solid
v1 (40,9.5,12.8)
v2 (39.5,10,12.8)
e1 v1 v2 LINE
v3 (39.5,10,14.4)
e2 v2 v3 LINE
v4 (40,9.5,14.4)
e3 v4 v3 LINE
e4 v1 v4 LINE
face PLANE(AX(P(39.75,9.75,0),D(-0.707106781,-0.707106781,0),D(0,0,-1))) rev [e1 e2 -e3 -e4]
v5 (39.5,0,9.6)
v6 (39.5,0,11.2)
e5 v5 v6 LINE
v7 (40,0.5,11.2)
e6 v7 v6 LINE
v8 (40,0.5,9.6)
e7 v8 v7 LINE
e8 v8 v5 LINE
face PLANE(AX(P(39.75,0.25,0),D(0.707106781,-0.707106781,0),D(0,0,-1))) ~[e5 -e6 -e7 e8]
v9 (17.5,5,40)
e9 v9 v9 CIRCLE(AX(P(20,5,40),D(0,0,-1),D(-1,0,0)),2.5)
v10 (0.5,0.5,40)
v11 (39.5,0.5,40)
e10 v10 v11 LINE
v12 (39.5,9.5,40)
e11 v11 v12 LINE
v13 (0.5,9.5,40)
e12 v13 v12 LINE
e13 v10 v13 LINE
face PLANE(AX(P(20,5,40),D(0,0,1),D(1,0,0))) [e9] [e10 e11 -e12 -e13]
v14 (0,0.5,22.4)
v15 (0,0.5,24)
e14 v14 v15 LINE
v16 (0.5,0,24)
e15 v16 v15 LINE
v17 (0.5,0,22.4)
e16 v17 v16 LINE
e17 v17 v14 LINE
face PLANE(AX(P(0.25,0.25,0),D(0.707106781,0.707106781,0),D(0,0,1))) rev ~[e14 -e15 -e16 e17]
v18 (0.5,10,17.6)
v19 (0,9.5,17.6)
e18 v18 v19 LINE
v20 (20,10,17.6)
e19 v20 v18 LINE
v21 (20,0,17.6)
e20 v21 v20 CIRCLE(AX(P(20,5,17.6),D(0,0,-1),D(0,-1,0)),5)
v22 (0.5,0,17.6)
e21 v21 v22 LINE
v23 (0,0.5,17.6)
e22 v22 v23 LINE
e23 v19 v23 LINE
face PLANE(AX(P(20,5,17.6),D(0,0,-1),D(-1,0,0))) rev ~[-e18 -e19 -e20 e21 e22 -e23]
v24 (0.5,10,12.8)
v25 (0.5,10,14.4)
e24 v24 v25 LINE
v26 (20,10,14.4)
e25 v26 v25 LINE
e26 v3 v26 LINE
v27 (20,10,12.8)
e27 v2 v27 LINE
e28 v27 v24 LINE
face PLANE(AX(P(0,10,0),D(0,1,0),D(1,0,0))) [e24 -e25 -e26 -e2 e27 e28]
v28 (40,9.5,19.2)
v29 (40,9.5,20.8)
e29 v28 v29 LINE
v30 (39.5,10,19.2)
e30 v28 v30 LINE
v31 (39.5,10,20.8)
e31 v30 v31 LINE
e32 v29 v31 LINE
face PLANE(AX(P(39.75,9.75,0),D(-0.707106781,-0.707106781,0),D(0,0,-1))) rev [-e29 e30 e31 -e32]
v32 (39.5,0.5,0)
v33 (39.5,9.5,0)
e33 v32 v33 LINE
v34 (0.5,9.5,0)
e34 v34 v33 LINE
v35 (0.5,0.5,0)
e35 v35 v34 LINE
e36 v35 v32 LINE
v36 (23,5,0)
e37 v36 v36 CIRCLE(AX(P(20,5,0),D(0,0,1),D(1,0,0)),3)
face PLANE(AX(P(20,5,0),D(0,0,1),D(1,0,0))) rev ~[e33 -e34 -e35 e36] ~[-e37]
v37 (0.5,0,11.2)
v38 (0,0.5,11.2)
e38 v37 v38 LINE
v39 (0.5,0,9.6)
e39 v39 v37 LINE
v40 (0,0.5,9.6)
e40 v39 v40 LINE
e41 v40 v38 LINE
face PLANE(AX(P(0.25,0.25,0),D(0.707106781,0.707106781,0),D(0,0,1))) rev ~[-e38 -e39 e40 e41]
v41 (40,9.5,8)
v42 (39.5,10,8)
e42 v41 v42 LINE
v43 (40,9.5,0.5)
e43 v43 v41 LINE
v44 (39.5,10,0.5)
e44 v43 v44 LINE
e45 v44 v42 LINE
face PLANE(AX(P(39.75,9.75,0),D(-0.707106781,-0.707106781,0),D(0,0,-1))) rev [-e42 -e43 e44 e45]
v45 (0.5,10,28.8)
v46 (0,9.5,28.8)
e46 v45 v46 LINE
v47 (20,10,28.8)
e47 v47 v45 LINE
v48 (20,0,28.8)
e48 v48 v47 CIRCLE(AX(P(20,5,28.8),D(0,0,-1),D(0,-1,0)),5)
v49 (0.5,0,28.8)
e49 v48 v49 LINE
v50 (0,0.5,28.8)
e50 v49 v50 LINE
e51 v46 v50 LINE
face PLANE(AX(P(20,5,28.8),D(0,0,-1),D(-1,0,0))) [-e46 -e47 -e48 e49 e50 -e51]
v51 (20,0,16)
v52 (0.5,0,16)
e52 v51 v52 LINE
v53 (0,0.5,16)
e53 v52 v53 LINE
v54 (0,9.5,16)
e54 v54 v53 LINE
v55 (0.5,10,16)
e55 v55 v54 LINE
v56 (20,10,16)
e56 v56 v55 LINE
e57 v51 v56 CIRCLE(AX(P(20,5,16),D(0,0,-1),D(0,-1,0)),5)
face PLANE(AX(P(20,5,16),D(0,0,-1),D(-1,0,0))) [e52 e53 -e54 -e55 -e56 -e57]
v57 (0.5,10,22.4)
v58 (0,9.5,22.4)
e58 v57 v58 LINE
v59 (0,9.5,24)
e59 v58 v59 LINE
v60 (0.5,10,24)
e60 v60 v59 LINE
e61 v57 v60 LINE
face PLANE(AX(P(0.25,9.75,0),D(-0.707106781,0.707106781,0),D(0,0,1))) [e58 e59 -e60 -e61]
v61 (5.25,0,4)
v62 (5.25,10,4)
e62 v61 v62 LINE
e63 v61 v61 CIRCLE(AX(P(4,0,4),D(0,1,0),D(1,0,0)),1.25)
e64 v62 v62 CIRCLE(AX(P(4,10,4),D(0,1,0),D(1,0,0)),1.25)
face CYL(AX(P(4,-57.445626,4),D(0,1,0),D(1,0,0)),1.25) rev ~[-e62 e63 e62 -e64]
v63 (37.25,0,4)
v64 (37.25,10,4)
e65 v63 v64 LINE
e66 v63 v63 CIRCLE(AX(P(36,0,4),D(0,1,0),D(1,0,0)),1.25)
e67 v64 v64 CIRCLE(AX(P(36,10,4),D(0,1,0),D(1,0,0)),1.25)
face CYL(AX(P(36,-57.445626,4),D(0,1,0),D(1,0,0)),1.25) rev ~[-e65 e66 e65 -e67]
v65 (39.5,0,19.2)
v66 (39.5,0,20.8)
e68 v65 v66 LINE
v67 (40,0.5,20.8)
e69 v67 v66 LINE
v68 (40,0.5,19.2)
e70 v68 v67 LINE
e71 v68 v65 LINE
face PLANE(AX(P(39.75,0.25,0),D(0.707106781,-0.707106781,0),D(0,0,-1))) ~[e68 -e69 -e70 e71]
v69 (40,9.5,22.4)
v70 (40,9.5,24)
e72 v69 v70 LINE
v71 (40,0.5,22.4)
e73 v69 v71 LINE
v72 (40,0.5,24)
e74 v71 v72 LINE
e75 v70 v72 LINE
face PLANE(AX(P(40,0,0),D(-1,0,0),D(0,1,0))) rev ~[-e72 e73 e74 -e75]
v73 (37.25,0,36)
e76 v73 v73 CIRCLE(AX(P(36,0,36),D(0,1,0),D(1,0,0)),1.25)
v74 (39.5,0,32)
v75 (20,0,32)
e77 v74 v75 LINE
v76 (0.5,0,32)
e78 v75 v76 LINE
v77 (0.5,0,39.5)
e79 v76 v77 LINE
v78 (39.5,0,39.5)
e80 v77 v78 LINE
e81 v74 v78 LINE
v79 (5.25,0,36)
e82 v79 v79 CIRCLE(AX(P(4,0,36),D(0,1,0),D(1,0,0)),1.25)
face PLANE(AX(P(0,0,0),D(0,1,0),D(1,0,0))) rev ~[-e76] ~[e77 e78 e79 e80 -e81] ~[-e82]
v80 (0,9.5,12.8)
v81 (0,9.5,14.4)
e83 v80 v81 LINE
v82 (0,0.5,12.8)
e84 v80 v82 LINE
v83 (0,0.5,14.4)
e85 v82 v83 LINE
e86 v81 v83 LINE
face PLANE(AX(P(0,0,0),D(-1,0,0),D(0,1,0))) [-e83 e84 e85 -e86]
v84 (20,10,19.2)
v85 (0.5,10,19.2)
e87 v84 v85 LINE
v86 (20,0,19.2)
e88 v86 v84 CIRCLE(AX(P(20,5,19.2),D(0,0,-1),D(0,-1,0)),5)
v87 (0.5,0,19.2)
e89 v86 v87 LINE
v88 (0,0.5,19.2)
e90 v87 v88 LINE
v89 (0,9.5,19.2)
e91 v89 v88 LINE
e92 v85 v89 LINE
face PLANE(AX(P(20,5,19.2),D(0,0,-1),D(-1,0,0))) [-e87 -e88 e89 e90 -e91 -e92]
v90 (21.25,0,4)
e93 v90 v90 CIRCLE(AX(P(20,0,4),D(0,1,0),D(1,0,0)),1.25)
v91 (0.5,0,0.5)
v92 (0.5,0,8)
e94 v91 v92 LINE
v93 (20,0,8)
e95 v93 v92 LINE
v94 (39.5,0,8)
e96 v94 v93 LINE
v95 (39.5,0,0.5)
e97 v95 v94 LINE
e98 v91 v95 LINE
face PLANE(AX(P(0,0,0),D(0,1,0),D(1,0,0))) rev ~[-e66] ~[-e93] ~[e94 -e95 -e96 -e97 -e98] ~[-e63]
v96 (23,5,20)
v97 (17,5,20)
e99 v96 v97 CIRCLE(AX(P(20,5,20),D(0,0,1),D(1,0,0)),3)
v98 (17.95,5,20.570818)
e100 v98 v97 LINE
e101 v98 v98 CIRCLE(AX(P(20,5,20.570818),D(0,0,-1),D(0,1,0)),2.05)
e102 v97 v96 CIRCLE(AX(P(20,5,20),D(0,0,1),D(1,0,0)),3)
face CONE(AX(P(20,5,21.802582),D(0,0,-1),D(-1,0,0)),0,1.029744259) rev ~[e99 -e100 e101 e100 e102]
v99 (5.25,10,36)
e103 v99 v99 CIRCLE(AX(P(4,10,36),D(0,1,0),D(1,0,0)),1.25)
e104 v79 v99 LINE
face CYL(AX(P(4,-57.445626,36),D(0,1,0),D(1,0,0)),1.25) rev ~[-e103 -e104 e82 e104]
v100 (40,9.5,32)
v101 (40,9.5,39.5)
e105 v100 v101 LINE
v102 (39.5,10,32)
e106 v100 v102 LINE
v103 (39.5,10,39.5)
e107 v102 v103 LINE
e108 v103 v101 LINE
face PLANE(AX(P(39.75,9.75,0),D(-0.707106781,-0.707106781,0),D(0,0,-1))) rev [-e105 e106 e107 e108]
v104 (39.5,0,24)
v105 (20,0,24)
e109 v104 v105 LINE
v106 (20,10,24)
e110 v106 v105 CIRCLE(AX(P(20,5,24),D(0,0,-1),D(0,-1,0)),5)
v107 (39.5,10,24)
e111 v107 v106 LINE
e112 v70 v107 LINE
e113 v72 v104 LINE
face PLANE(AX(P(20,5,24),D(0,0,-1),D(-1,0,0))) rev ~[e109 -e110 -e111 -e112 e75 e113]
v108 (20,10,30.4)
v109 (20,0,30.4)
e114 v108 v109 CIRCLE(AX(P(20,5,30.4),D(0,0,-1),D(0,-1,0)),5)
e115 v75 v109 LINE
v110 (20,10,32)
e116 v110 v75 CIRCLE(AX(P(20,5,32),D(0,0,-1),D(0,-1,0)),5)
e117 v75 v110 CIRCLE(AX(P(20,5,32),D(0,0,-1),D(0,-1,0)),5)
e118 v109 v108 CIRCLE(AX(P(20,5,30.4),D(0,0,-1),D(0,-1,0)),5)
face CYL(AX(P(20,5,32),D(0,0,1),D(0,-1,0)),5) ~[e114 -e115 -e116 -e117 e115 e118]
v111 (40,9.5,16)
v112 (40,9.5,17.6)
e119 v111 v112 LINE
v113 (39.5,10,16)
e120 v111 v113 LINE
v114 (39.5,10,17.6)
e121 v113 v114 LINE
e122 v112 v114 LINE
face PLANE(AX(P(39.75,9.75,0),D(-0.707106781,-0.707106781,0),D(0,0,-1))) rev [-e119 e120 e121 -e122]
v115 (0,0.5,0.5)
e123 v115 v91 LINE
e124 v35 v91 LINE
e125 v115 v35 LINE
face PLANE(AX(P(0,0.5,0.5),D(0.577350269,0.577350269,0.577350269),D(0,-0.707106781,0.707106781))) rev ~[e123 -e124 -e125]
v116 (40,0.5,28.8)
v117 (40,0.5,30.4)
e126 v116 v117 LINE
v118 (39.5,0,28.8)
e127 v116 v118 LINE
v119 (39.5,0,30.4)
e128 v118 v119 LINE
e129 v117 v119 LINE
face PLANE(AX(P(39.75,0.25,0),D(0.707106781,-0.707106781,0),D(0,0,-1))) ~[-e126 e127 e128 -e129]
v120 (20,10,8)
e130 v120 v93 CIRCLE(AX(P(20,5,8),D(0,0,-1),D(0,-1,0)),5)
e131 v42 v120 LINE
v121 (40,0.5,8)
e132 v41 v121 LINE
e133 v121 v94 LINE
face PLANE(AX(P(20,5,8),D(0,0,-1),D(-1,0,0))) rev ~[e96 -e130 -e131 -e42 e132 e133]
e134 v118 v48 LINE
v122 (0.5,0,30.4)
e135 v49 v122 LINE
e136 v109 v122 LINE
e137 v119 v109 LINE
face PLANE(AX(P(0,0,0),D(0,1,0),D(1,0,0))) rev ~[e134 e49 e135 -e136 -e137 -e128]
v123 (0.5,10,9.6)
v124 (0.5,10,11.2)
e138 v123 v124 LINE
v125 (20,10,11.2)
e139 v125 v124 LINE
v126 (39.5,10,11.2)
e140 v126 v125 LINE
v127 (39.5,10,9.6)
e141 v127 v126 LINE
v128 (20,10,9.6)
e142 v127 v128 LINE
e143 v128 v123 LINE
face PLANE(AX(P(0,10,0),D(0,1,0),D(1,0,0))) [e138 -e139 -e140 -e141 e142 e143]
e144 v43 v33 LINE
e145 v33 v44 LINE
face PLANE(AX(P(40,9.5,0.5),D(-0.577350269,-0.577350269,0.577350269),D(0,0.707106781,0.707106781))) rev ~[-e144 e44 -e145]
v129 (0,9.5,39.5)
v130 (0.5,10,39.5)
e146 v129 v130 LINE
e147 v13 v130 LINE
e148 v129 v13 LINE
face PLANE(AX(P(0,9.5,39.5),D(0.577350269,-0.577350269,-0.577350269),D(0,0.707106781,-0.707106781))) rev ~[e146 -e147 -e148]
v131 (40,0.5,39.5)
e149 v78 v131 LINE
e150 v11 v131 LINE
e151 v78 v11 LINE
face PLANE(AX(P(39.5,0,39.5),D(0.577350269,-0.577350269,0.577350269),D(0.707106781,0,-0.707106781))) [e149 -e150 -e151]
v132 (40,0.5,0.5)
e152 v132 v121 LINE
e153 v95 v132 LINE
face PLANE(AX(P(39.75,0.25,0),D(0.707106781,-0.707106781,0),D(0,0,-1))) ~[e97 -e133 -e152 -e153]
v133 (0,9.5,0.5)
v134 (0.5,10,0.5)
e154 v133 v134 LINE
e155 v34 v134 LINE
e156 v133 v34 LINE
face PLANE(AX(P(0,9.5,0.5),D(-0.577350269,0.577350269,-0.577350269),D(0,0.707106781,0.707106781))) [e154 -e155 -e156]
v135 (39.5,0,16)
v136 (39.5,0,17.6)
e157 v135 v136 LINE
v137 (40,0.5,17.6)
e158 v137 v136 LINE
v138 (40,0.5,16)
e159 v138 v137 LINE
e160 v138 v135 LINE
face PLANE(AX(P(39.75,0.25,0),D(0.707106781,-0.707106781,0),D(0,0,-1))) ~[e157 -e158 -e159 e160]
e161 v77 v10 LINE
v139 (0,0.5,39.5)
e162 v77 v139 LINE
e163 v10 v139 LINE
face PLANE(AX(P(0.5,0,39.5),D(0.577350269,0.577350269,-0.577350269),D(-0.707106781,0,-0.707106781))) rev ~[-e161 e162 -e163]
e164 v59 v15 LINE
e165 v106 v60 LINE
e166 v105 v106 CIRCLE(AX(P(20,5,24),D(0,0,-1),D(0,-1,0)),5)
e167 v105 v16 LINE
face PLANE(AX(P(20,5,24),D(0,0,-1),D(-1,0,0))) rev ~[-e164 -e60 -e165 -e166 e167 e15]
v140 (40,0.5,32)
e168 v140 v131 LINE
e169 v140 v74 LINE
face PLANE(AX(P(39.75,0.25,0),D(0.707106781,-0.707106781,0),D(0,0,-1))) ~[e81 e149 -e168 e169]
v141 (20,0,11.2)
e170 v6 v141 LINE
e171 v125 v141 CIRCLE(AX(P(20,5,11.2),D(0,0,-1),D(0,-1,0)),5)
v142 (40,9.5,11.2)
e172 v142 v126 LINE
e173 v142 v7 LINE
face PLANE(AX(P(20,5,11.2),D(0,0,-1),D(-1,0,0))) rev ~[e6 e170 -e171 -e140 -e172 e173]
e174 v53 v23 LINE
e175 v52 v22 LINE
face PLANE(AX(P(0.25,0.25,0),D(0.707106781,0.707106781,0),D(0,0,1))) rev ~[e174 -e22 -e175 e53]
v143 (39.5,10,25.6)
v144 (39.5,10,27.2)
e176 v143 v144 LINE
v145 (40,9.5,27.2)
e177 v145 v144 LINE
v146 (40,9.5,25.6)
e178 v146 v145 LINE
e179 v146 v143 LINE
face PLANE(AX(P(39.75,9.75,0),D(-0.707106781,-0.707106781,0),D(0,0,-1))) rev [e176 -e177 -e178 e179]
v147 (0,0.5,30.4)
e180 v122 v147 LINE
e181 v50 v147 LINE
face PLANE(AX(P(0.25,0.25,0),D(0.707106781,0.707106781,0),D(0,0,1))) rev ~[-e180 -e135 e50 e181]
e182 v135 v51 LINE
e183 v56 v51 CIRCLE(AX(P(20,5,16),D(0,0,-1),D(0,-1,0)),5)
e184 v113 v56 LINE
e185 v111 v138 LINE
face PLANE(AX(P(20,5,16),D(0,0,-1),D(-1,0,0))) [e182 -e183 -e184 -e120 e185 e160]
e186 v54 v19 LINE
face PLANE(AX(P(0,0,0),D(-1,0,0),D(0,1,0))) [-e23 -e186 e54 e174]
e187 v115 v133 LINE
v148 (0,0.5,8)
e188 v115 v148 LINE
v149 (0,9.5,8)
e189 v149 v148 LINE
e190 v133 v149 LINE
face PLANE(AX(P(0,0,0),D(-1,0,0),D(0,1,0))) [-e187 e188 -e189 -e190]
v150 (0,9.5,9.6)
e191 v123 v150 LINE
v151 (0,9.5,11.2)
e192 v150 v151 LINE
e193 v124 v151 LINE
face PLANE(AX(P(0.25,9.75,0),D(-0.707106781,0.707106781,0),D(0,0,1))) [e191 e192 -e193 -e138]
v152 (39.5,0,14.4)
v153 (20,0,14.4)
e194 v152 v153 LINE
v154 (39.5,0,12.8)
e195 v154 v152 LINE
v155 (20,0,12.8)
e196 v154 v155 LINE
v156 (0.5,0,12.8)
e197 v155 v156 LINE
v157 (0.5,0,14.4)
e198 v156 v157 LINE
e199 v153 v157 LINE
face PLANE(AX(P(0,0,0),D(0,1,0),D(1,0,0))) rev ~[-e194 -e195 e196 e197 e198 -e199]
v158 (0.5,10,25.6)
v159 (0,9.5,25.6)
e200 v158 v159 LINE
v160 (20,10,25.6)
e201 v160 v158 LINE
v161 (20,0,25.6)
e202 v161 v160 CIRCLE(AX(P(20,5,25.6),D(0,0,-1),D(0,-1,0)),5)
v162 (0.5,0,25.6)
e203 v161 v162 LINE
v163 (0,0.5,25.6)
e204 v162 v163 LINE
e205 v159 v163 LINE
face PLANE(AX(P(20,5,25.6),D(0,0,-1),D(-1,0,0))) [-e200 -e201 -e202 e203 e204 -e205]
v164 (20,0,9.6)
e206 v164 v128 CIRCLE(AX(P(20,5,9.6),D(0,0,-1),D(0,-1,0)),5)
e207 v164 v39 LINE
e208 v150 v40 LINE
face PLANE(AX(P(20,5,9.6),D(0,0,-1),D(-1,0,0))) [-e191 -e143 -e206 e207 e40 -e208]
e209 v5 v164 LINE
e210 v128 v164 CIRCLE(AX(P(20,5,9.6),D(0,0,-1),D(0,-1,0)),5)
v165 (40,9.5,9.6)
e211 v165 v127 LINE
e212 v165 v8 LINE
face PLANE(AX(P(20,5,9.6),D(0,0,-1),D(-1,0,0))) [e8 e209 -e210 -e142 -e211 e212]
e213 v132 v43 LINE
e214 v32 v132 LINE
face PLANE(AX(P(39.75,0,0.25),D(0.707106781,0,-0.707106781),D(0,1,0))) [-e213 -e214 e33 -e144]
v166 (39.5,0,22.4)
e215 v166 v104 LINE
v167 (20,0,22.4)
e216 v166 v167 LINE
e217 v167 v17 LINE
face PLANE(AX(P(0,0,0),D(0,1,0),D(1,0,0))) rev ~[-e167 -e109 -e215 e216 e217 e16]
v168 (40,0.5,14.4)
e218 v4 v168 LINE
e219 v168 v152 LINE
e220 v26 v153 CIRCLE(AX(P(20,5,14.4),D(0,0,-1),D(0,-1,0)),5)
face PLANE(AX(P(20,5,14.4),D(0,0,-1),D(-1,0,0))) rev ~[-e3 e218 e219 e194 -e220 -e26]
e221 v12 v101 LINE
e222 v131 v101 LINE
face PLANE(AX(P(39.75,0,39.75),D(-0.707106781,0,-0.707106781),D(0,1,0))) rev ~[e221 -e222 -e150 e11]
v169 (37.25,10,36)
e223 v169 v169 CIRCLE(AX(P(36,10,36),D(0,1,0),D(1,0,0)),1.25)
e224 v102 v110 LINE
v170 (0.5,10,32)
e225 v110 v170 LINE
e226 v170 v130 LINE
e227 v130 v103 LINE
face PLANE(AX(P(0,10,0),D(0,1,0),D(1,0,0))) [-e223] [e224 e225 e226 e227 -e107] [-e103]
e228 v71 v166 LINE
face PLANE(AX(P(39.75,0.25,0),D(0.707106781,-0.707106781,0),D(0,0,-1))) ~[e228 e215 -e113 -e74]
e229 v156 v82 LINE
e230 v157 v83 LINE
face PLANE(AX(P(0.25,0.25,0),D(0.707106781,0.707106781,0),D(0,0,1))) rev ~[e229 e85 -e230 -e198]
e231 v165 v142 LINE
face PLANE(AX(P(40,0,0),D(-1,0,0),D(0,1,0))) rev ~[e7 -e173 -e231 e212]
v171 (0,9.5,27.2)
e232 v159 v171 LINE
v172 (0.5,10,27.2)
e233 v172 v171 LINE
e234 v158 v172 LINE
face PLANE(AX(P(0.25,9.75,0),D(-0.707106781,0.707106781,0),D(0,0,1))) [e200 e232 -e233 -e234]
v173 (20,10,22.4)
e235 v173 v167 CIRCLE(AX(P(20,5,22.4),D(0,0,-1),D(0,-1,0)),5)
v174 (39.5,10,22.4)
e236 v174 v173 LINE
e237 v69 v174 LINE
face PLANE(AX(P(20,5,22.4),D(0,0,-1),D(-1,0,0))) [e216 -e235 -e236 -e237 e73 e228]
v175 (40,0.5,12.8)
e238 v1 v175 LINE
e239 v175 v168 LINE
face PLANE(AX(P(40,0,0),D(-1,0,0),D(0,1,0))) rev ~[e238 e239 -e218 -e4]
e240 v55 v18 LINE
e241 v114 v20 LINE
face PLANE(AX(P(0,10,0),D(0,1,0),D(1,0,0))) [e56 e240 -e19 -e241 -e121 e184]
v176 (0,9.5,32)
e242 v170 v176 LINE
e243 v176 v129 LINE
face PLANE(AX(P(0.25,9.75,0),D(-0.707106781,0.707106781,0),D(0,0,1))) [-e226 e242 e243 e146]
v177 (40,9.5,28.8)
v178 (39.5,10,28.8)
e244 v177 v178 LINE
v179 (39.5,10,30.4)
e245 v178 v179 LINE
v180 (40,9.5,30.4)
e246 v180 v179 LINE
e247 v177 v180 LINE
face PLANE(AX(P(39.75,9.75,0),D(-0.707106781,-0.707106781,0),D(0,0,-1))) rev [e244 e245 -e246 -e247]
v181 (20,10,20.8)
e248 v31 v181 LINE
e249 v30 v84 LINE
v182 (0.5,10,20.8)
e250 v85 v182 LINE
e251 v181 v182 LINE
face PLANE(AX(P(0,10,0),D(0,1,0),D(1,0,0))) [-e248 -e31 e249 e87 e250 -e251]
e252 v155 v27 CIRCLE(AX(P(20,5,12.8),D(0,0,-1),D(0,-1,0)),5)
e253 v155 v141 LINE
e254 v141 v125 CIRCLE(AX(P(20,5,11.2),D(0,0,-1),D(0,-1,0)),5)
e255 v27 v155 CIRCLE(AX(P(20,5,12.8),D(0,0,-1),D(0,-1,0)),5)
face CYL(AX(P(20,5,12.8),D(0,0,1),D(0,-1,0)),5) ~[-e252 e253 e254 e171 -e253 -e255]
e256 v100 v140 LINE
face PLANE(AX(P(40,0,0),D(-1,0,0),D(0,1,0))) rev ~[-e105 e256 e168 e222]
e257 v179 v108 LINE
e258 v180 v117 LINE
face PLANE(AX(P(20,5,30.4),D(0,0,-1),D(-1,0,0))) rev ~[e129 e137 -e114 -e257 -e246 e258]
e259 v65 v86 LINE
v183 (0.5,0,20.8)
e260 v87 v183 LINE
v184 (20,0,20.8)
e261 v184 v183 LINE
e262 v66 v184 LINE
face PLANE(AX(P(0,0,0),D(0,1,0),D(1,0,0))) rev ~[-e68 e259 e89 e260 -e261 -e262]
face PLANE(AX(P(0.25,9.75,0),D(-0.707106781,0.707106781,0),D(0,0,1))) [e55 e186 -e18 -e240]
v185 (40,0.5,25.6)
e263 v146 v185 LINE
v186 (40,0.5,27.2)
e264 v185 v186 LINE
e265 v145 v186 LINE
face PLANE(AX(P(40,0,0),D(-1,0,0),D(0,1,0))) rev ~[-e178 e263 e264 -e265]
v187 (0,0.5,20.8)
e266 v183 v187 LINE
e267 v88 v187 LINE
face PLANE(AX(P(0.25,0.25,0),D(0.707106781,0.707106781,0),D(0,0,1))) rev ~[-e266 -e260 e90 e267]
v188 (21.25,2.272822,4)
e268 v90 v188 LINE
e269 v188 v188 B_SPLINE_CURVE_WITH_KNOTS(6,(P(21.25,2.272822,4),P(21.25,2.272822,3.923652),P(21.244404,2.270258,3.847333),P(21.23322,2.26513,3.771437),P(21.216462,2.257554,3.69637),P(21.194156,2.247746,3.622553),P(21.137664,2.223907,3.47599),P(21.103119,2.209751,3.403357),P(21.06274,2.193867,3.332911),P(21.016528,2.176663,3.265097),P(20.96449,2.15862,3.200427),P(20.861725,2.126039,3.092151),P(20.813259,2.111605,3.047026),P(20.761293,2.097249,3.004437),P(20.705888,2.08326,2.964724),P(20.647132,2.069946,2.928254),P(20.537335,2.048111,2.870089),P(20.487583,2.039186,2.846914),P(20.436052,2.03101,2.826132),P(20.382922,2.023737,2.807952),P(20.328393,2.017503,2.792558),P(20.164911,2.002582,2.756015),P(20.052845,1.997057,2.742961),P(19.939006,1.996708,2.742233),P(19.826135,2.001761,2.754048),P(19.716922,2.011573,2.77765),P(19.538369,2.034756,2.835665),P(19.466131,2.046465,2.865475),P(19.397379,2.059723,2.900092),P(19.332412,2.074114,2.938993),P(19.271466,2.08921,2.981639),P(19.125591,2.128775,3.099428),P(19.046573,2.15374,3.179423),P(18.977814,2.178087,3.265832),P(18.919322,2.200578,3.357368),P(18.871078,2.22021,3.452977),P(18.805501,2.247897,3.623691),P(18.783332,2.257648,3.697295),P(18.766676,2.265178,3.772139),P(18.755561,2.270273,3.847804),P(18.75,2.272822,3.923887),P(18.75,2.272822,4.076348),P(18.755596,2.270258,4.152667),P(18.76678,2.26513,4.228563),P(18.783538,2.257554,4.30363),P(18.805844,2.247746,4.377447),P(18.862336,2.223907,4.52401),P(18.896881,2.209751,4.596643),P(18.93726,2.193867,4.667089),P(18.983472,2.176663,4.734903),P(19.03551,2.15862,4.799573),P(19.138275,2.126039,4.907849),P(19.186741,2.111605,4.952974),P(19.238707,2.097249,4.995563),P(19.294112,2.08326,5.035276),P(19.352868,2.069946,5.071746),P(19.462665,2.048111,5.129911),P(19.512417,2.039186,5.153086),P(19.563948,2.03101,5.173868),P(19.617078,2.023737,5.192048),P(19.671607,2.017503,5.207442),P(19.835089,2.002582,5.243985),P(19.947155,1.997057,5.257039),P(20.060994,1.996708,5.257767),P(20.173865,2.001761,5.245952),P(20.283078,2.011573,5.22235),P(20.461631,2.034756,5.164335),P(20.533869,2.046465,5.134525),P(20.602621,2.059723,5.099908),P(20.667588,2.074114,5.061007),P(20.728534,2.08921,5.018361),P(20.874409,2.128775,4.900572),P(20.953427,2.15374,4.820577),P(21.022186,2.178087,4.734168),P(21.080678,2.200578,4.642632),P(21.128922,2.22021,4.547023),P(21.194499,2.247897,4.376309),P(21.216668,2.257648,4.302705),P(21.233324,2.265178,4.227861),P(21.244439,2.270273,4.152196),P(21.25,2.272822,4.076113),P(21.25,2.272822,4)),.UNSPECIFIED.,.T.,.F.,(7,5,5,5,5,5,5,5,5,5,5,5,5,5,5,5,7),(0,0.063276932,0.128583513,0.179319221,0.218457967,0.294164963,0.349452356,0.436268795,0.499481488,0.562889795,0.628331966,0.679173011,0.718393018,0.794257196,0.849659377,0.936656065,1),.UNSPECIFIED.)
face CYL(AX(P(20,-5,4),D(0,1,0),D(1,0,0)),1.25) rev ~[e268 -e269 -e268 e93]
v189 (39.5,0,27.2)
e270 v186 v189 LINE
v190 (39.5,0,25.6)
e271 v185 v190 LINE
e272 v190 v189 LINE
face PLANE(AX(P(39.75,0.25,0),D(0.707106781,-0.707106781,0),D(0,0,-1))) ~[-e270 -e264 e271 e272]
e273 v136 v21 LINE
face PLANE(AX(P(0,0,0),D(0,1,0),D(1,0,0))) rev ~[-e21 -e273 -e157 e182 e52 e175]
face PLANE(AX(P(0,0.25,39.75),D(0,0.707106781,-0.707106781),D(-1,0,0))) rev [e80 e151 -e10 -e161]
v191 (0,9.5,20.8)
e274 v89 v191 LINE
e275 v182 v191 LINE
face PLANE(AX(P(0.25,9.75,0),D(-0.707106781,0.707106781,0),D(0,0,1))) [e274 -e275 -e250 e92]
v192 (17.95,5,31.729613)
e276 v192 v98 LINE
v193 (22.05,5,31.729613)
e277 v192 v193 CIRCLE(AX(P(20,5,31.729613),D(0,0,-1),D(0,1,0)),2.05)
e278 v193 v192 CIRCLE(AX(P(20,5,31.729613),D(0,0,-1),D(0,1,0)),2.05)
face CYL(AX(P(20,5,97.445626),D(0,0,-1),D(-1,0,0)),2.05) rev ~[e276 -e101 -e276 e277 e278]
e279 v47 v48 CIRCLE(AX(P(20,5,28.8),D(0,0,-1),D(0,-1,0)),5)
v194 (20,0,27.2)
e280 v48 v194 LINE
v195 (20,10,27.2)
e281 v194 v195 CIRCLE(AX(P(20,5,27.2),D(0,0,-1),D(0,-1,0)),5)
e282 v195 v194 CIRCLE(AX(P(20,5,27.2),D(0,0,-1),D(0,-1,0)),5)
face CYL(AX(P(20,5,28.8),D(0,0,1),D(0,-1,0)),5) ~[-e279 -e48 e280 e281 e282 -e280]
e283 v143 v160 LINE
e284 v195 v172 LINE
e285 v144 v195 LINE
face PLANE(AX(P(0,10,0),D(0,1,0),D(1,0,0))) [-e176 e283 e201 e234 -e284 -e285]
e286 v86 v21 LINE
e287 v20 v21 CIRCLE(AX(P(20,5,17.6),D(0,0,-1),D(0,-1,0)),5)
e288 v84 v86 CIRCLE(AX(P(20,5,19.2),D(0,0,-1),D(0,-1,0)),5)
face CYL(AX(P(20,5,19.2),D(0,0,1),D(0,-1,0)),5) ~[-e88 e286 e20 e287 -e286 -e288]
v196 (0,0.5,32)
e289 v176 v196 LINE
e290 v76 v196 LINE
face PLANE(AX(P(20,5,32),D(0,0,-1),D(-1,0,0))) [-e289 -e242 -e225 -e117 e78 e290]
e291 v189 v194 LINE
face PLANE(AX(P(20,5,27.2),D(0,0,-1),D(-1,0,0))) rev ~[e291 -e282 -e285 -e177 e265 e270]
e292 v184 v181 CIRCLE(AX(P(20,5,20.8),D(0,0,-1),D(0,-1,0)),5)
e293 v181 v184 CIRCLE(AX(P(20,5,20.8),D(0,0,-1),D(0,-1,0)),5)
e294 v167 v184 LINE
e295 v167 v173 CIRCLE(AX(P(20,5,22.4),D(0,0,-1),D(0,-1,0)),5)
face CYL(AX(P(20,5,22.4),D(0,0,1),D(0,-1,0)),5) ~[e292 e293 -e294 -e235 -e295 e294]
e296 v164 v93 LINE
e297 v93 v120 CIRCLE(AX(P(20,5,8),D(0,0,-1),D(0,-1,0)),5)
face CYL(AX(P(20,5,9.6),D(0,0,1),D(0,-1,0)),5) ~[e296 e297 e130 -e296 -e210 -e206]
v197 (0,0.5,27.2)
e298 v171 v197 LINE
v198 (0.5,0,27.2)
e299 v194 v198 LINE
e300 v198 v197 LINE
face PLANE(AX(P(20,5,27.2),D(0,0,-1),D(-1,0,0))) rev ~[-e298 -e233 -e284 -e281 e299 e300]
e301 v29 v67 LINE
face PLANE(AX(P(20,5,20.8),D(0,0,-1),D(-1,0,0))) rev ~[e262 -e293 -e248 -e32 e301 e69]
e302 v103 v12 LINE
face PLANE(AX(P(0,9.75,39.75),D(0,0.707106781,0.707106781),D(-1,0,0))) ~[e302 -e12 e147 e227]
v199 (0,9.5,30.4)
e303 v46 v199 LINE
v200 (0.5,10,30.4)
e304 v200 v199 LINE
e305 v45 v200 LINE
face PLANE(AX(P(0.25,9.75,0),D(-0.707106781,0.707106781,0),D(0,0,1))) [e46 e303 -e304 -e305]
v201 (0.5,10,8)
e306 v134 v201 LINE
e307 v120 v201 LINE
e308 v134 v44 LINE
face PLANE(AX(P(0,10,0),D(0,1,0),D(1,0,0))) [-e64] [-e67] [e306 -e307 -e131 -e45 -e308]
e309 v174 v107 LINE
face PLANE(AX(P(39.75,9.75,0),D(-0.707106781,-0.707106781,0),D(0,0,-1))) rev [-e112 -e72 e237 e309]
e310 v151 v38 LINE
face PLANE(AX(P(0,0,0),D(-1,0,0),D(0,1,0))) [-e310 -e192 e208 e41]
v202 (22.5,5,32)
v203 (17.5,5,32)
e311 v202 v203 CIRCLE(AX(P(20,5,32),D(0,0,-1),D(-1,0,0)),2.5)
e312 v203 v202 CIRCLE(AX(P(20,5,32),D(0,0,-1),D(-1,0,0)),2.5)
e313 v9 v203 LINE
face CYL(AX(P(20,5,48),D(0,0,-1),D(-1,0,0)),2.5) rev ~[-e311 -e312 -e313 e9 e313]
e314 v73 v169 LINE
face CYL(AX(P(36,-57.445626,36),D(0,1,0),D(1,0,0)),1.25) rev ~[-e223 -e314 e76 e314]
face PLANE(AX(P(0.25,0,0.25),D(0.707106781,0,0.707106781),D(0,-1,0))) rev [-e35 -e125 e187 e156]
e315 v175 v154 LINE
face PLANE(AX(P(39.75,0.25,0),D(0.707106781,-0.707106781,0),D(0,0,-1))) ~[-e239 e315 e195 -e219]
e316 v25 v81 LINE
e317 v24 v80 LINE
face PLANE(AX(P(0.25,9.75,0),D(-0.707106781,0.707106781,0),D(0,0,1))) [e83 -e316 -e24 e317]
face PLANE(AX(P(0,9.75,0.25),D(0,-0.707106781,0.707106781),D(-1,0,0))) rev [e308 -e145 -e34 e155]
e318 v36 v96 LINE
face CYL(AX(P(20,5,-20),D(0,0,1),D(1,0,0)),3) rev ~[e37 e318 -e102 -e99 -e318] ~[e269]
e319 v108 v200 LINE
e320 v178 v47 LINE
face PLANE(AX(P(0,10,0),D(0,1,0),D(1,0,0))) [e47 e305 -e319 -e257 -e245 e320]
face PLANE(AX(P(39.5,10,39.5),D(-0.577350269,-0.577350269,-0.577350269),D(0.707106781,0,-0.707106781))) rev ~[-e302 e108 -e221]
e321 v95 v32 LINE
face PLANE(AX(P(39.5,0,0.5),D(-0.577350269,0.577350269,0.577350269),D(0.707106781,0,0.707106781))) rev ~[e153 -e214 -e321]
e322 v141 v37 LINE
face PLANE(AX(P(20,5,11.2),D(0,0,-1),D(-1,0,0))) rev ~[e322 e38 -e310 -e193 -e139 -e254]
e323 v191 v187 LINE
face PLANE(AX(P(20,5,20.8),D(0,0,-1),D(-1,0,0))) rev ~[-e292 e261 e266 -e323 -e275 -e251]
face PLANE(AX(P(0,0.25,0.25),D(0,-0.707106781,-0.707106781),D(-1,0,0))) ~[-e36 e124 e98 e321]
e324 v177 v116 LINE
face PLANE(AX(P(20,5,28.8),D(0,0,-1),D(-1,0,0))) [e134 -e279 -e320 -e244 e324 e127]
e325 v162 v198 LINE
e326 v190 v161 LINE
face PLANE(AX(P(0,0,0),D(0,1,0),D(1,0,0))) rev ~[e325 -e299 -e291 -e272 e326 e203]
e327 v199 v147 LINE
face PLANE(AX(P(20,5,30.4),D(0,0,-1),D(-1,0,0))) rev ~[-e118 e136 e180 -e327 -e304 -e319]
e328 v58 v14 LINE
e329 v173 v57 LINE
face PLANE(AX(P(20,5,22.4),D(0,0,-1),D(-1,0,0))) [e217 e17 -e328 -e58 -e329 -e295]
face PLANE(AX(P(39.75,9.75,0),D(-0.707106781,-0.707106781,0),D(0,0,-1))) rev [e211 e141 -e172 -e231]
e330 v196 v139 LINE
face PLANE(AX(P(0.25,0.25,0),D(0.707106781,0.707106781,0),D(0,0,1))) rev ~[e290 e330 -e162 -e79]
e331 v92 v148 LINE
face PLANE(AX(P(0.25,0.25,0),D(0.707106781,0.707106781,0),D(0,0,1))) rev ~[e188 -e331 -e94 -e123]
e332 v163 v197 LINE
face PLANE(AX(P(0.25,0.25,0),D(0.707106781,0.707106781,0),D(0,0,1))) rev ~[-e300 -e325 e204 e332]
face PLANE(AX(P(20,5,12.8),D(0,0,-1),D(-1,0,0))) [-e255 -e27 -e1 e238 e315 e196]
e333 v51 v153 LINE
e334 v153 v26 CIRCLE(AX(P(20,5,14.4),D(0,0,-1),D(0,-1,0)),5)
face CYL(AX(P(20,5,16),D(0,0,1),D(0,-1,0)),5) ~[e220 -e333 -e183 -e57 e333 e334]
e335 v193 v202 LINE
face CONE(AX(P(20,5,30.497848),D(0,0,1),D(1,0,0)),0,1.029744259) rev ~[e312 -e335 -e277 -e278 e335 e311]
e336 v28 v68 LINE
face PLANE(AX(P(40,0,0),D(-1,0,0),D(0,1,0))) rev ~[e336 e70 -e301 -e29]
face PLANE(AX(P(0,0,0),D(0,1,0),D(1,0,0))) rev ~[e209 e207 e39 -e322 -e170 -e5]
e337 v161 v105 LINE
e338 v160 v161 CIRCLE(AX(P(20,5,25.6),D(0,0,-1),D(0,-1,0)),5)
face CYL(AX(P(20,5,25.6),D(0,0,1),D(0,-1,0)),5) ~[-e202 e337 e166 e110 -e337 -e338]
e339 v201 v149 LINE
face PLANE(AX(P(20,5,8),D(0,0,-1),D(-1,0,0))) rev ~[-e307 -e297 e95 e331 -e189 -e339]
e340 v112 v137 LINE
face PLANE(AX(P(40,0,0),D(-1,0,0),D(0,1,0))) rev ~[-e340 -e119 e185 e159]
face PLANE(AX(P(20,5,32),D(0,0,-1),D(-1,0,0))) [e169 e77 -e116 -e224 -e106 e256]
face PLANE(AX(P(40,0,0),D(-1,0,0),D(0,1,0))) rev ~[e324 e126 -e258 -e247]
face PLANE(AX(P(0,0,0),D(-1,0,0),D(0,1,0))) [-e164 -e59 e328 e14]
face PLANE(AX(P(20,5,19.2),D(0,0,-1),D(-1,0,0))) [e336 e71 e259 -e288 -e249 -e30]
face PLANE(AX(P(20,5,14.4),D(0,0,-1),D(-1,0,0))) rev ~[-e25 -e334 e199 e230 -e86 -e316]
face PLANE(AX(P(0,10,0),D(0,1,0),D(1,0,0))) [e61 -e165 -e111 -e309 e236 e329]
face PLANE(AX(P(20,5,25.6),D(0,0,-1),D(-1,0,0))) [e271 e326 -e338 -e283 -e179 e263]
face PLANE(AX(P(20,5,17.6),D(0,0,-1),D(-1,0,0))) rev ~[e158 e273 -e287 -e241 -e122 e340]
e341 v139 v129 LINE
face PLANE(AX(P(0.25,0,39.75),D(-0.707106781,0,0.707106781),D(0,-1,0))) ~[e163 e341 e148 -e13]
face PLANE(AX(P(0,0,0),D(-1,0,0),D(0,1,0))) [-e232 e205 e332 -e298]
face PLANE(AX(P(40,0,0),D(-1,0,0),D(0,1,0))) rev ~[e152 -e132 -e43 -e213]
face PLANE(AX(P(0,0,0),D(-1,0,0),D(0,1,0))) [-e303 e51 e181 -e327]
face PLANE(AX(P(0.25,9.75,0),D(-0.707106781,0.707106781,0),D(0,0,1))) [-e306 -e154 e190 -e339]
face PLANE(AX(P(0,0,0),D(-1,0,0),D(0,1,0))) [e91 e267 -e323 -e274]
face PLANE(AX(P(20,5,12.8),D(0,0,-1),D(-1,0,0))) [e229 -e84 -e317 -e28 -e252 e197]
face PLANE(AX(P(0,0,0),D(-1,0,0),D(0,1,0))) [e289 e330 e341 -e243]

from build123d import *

# Parameters (mm, degrees)
ESQUISSE2_W                                   = 40
ESQUISSE2_H                                   = 10
BOSS_EXTRU_1_DEPTH                            = 40
DIAM_TRE_DU_PER_AGE_4_1_4_1_1_D               = 4.1
TROU_POUR_TARAUDAGE_POUR_TROU_TARAUD_M6_D     = 5
TROU_POUR_TARAUDAGE_POUR_TROU_TARAUD_M6_DEPTH = 8
TROU_POUR_TARAUDAGE_POUR_TROU_TARAUD_M6_TIP   = 1.502151548
DIAM_TRE_DU_PER_AGE_6_0_6_1_D                 = 6
DIAM_TRE_DU_PER_AGE_6_0_6_1_DEPTH             = 20
DIAM_TRE_DU_PER_AGE_6_0_6_1_TIP               = 1.802581857
TROU_POUR_TARAUDAGE_POUR_TROU_TARAUD_M3_D     = 2.5
TROU_POUR_TARAUDAGE_POUR_TROU_TARAUD_2_D      = 2.5
TROU_POUR_TARAUDAGE_POUR_TROU_TARAUD_2_DEPTH  = 5
TROU_POUR_TARAUDAGE_POUR_TROU_TARAUD_2_TIP    = 0.751075774
CHANFREIN1_SIZE                               = 0.5
ENL_V_START                                   = 8
ESQUISSE20_R                                  = 26.193290648
ESQUISSE20_R_2                                = 5
ENL_V_MAT_EXTRU_1_DEPTH                       = 1.6
R_P_TITION_LIN_AIRE1_COUNT                    = 8
R_P_TITION_LIN_AIRE1_PITCH                    = 3.2


with BuildPart() as part:
    # Esquisse2 → Boss.-Extru.1 (new body)
    with BuildSketch(Plane.XY):
        with Locations((20, 5)):
            Rectangle(ESQUISSE2_W, ESQUISSE2_H)
    extrude(amount=BOSS_EXTRU_1_DEPTH)

    # Diamètre du perçage Ø4.1 (4.1)1 (through all)
    with Locations(Plane.XY.offset(40)):
        with Locations((20, 5)):
            Hole(DIAM_TRE_DU_PER_AGE_4_1_4_1_1_D / 2)

    # Trou pour taraudage pour trou taraudé M61
    with Locations(Plane.XY.offset(40)):
        with Locations((20, 5)):
            Hole(TROU_POUR_TARAUDAGE_POUR_TROU_TARAUD_M6_D / 2, depth=TROU_POUR_TARAUDAGE_POUR_TROU_TARAUD_M6_DEPTH)
            with Locations((0, 0, -(TROU_POUR_TARAUDAGE_POUR_TROU_TARAUD_M6_DEPTH + TROU_POUR_TARAUDAGE_POUR_TROU_TARAUD_M6_TIP / 2))):  # 118° drill point
                Cone(0, TROU_POUR_TARAUDAGE_POUR_TROU_TARAUD_M6_D / 2, TROU_POUR_TARAUDAGE_POUR_TROU_TARAUD_M6_TIP, mode=Mode.SUBTRACT)

    # Diamètre du perçage Ø6.0 (6)1
    with Locations(Plane(origin=(0, 0, 0), x_dir=(-1, 0, 0), z_dir=(0, 0, -1))):
        with Locations((-20, 5)):
            Hole(DIAM_TRE_DU_PER_AGE_6_0_6_1_D / 2, depth=DIAM_TRE_DU_PER_AGE_6_0_6_1_DEPTH)
            with Locations((0, 0, -(DIAM_TRE_DU_PER_AGE_6_0_6_1_DEPTH + DIAM_TRE_DU_PER_AGE_6_0_6_1_TIP / 2))):  # 118° drill point
                Cone(0, DIAM_TRE_DU_PER_AGE_6_0_6_1_D / 2, DIAM_TRE_DU_PER_AGE_6_0_6_1_TIP, mode=Mode.SUBTRACT)

    # Trou pour taraudage pour trou taraud_ M3 (through all)
    with Locations(Plane(origin=(0, 0, 0), x_dir=(-1, 0, 0), z_dir=(0, -1, 0))):
        with Locations((-4, -36), (-36, -36), (-36, -4), (-4, -4)):
            Hole(TROU_POUR_TARAUDAGE_POUR_TROU_TARAUD_M3_D / 2)

    # Trou pour taraudage pour trou taraud 2
    with Locations(Plane(origin=(0, 0, 0), x_dir=(-1, 0, 0), z_dir=(0, -1, 0))):
        with Locations((-20, -4)):
            Hole(TROU_POUR_TARAUDAGE_POUR_TROU_TARAUD_2_D / 2, depth=TROU_POUR_TARAUDAGE_POUR_TROU_TARAUD_2_DEPTH)
            with Locations((0, 0, -(TROU_POUR_TARAUDAGE_POUR_TROU_TARAUD_2_DEPTH + TROU_POUR_TARAUDAGE_POUR_TROU_TARAUD_2_TIP / 2))):  # 118° drill point
                Cone(0, TROU_POUR_TARAUDAGE_POUR_TROU_TARAUD_2_D / 2, TROU_POUR_TARAUDAGE_POUR_TROU_TARAUD_2_TIP, mode=Mode.SUBTRACT)

    # Chanfrein1
    chanfrein1_edges = [part.edges().sort_by_distance(p)[0] for p in [
        (40, 5, 0),
        (20, 10, 0),
        (0, 5, 0),
        (20, 0, 0),
        (40, 10, 20),
        (40, 0, 20),
        (0, 10, 20),
        (0, 0, 20),
        (0, 5, 40),
        (20, 10, 40),
        (40, 5, 40),
        (20, 0, 40),
    ]]
    chamfer(chanfrein1_edges, length=CHANFREIN1_SIZE)

    # Esquisse20 → Enlèv. mat.-Extru.1 (cut)
    with BuildSketch(Plane(origin=(0, 40, 40), x_dir=(-1, 0, 0), z_dir=(0, 0, -1)).offset(ENL_V_START)):
        with Locations((-20, -35)):
            Circle(ESQUISSE20_R)
        with Locations((-20, -35)):
            Circle(ESQUISSE20_R_2, mode=Mode.SUBTRACT)
    enl_v_mat_extru_1 = extrude(amount=ENL_V_MAT_EXTRU_1_DEPTH, mode=Mode.SUBTRACT)

    # Répétition linéaire1: Enlèv. mat.-Extru.1 ×8
    with Locations(*[(0, 0, -i * R_P_TITION_LIN_AIRE1_PITCH) for i in range(1, R_P_TITION_LIN_AIRE1_COUNT)]):
        add(enl_v_mat_extru_1, mode=Mode.SUBTRACT)


solid = part.part
